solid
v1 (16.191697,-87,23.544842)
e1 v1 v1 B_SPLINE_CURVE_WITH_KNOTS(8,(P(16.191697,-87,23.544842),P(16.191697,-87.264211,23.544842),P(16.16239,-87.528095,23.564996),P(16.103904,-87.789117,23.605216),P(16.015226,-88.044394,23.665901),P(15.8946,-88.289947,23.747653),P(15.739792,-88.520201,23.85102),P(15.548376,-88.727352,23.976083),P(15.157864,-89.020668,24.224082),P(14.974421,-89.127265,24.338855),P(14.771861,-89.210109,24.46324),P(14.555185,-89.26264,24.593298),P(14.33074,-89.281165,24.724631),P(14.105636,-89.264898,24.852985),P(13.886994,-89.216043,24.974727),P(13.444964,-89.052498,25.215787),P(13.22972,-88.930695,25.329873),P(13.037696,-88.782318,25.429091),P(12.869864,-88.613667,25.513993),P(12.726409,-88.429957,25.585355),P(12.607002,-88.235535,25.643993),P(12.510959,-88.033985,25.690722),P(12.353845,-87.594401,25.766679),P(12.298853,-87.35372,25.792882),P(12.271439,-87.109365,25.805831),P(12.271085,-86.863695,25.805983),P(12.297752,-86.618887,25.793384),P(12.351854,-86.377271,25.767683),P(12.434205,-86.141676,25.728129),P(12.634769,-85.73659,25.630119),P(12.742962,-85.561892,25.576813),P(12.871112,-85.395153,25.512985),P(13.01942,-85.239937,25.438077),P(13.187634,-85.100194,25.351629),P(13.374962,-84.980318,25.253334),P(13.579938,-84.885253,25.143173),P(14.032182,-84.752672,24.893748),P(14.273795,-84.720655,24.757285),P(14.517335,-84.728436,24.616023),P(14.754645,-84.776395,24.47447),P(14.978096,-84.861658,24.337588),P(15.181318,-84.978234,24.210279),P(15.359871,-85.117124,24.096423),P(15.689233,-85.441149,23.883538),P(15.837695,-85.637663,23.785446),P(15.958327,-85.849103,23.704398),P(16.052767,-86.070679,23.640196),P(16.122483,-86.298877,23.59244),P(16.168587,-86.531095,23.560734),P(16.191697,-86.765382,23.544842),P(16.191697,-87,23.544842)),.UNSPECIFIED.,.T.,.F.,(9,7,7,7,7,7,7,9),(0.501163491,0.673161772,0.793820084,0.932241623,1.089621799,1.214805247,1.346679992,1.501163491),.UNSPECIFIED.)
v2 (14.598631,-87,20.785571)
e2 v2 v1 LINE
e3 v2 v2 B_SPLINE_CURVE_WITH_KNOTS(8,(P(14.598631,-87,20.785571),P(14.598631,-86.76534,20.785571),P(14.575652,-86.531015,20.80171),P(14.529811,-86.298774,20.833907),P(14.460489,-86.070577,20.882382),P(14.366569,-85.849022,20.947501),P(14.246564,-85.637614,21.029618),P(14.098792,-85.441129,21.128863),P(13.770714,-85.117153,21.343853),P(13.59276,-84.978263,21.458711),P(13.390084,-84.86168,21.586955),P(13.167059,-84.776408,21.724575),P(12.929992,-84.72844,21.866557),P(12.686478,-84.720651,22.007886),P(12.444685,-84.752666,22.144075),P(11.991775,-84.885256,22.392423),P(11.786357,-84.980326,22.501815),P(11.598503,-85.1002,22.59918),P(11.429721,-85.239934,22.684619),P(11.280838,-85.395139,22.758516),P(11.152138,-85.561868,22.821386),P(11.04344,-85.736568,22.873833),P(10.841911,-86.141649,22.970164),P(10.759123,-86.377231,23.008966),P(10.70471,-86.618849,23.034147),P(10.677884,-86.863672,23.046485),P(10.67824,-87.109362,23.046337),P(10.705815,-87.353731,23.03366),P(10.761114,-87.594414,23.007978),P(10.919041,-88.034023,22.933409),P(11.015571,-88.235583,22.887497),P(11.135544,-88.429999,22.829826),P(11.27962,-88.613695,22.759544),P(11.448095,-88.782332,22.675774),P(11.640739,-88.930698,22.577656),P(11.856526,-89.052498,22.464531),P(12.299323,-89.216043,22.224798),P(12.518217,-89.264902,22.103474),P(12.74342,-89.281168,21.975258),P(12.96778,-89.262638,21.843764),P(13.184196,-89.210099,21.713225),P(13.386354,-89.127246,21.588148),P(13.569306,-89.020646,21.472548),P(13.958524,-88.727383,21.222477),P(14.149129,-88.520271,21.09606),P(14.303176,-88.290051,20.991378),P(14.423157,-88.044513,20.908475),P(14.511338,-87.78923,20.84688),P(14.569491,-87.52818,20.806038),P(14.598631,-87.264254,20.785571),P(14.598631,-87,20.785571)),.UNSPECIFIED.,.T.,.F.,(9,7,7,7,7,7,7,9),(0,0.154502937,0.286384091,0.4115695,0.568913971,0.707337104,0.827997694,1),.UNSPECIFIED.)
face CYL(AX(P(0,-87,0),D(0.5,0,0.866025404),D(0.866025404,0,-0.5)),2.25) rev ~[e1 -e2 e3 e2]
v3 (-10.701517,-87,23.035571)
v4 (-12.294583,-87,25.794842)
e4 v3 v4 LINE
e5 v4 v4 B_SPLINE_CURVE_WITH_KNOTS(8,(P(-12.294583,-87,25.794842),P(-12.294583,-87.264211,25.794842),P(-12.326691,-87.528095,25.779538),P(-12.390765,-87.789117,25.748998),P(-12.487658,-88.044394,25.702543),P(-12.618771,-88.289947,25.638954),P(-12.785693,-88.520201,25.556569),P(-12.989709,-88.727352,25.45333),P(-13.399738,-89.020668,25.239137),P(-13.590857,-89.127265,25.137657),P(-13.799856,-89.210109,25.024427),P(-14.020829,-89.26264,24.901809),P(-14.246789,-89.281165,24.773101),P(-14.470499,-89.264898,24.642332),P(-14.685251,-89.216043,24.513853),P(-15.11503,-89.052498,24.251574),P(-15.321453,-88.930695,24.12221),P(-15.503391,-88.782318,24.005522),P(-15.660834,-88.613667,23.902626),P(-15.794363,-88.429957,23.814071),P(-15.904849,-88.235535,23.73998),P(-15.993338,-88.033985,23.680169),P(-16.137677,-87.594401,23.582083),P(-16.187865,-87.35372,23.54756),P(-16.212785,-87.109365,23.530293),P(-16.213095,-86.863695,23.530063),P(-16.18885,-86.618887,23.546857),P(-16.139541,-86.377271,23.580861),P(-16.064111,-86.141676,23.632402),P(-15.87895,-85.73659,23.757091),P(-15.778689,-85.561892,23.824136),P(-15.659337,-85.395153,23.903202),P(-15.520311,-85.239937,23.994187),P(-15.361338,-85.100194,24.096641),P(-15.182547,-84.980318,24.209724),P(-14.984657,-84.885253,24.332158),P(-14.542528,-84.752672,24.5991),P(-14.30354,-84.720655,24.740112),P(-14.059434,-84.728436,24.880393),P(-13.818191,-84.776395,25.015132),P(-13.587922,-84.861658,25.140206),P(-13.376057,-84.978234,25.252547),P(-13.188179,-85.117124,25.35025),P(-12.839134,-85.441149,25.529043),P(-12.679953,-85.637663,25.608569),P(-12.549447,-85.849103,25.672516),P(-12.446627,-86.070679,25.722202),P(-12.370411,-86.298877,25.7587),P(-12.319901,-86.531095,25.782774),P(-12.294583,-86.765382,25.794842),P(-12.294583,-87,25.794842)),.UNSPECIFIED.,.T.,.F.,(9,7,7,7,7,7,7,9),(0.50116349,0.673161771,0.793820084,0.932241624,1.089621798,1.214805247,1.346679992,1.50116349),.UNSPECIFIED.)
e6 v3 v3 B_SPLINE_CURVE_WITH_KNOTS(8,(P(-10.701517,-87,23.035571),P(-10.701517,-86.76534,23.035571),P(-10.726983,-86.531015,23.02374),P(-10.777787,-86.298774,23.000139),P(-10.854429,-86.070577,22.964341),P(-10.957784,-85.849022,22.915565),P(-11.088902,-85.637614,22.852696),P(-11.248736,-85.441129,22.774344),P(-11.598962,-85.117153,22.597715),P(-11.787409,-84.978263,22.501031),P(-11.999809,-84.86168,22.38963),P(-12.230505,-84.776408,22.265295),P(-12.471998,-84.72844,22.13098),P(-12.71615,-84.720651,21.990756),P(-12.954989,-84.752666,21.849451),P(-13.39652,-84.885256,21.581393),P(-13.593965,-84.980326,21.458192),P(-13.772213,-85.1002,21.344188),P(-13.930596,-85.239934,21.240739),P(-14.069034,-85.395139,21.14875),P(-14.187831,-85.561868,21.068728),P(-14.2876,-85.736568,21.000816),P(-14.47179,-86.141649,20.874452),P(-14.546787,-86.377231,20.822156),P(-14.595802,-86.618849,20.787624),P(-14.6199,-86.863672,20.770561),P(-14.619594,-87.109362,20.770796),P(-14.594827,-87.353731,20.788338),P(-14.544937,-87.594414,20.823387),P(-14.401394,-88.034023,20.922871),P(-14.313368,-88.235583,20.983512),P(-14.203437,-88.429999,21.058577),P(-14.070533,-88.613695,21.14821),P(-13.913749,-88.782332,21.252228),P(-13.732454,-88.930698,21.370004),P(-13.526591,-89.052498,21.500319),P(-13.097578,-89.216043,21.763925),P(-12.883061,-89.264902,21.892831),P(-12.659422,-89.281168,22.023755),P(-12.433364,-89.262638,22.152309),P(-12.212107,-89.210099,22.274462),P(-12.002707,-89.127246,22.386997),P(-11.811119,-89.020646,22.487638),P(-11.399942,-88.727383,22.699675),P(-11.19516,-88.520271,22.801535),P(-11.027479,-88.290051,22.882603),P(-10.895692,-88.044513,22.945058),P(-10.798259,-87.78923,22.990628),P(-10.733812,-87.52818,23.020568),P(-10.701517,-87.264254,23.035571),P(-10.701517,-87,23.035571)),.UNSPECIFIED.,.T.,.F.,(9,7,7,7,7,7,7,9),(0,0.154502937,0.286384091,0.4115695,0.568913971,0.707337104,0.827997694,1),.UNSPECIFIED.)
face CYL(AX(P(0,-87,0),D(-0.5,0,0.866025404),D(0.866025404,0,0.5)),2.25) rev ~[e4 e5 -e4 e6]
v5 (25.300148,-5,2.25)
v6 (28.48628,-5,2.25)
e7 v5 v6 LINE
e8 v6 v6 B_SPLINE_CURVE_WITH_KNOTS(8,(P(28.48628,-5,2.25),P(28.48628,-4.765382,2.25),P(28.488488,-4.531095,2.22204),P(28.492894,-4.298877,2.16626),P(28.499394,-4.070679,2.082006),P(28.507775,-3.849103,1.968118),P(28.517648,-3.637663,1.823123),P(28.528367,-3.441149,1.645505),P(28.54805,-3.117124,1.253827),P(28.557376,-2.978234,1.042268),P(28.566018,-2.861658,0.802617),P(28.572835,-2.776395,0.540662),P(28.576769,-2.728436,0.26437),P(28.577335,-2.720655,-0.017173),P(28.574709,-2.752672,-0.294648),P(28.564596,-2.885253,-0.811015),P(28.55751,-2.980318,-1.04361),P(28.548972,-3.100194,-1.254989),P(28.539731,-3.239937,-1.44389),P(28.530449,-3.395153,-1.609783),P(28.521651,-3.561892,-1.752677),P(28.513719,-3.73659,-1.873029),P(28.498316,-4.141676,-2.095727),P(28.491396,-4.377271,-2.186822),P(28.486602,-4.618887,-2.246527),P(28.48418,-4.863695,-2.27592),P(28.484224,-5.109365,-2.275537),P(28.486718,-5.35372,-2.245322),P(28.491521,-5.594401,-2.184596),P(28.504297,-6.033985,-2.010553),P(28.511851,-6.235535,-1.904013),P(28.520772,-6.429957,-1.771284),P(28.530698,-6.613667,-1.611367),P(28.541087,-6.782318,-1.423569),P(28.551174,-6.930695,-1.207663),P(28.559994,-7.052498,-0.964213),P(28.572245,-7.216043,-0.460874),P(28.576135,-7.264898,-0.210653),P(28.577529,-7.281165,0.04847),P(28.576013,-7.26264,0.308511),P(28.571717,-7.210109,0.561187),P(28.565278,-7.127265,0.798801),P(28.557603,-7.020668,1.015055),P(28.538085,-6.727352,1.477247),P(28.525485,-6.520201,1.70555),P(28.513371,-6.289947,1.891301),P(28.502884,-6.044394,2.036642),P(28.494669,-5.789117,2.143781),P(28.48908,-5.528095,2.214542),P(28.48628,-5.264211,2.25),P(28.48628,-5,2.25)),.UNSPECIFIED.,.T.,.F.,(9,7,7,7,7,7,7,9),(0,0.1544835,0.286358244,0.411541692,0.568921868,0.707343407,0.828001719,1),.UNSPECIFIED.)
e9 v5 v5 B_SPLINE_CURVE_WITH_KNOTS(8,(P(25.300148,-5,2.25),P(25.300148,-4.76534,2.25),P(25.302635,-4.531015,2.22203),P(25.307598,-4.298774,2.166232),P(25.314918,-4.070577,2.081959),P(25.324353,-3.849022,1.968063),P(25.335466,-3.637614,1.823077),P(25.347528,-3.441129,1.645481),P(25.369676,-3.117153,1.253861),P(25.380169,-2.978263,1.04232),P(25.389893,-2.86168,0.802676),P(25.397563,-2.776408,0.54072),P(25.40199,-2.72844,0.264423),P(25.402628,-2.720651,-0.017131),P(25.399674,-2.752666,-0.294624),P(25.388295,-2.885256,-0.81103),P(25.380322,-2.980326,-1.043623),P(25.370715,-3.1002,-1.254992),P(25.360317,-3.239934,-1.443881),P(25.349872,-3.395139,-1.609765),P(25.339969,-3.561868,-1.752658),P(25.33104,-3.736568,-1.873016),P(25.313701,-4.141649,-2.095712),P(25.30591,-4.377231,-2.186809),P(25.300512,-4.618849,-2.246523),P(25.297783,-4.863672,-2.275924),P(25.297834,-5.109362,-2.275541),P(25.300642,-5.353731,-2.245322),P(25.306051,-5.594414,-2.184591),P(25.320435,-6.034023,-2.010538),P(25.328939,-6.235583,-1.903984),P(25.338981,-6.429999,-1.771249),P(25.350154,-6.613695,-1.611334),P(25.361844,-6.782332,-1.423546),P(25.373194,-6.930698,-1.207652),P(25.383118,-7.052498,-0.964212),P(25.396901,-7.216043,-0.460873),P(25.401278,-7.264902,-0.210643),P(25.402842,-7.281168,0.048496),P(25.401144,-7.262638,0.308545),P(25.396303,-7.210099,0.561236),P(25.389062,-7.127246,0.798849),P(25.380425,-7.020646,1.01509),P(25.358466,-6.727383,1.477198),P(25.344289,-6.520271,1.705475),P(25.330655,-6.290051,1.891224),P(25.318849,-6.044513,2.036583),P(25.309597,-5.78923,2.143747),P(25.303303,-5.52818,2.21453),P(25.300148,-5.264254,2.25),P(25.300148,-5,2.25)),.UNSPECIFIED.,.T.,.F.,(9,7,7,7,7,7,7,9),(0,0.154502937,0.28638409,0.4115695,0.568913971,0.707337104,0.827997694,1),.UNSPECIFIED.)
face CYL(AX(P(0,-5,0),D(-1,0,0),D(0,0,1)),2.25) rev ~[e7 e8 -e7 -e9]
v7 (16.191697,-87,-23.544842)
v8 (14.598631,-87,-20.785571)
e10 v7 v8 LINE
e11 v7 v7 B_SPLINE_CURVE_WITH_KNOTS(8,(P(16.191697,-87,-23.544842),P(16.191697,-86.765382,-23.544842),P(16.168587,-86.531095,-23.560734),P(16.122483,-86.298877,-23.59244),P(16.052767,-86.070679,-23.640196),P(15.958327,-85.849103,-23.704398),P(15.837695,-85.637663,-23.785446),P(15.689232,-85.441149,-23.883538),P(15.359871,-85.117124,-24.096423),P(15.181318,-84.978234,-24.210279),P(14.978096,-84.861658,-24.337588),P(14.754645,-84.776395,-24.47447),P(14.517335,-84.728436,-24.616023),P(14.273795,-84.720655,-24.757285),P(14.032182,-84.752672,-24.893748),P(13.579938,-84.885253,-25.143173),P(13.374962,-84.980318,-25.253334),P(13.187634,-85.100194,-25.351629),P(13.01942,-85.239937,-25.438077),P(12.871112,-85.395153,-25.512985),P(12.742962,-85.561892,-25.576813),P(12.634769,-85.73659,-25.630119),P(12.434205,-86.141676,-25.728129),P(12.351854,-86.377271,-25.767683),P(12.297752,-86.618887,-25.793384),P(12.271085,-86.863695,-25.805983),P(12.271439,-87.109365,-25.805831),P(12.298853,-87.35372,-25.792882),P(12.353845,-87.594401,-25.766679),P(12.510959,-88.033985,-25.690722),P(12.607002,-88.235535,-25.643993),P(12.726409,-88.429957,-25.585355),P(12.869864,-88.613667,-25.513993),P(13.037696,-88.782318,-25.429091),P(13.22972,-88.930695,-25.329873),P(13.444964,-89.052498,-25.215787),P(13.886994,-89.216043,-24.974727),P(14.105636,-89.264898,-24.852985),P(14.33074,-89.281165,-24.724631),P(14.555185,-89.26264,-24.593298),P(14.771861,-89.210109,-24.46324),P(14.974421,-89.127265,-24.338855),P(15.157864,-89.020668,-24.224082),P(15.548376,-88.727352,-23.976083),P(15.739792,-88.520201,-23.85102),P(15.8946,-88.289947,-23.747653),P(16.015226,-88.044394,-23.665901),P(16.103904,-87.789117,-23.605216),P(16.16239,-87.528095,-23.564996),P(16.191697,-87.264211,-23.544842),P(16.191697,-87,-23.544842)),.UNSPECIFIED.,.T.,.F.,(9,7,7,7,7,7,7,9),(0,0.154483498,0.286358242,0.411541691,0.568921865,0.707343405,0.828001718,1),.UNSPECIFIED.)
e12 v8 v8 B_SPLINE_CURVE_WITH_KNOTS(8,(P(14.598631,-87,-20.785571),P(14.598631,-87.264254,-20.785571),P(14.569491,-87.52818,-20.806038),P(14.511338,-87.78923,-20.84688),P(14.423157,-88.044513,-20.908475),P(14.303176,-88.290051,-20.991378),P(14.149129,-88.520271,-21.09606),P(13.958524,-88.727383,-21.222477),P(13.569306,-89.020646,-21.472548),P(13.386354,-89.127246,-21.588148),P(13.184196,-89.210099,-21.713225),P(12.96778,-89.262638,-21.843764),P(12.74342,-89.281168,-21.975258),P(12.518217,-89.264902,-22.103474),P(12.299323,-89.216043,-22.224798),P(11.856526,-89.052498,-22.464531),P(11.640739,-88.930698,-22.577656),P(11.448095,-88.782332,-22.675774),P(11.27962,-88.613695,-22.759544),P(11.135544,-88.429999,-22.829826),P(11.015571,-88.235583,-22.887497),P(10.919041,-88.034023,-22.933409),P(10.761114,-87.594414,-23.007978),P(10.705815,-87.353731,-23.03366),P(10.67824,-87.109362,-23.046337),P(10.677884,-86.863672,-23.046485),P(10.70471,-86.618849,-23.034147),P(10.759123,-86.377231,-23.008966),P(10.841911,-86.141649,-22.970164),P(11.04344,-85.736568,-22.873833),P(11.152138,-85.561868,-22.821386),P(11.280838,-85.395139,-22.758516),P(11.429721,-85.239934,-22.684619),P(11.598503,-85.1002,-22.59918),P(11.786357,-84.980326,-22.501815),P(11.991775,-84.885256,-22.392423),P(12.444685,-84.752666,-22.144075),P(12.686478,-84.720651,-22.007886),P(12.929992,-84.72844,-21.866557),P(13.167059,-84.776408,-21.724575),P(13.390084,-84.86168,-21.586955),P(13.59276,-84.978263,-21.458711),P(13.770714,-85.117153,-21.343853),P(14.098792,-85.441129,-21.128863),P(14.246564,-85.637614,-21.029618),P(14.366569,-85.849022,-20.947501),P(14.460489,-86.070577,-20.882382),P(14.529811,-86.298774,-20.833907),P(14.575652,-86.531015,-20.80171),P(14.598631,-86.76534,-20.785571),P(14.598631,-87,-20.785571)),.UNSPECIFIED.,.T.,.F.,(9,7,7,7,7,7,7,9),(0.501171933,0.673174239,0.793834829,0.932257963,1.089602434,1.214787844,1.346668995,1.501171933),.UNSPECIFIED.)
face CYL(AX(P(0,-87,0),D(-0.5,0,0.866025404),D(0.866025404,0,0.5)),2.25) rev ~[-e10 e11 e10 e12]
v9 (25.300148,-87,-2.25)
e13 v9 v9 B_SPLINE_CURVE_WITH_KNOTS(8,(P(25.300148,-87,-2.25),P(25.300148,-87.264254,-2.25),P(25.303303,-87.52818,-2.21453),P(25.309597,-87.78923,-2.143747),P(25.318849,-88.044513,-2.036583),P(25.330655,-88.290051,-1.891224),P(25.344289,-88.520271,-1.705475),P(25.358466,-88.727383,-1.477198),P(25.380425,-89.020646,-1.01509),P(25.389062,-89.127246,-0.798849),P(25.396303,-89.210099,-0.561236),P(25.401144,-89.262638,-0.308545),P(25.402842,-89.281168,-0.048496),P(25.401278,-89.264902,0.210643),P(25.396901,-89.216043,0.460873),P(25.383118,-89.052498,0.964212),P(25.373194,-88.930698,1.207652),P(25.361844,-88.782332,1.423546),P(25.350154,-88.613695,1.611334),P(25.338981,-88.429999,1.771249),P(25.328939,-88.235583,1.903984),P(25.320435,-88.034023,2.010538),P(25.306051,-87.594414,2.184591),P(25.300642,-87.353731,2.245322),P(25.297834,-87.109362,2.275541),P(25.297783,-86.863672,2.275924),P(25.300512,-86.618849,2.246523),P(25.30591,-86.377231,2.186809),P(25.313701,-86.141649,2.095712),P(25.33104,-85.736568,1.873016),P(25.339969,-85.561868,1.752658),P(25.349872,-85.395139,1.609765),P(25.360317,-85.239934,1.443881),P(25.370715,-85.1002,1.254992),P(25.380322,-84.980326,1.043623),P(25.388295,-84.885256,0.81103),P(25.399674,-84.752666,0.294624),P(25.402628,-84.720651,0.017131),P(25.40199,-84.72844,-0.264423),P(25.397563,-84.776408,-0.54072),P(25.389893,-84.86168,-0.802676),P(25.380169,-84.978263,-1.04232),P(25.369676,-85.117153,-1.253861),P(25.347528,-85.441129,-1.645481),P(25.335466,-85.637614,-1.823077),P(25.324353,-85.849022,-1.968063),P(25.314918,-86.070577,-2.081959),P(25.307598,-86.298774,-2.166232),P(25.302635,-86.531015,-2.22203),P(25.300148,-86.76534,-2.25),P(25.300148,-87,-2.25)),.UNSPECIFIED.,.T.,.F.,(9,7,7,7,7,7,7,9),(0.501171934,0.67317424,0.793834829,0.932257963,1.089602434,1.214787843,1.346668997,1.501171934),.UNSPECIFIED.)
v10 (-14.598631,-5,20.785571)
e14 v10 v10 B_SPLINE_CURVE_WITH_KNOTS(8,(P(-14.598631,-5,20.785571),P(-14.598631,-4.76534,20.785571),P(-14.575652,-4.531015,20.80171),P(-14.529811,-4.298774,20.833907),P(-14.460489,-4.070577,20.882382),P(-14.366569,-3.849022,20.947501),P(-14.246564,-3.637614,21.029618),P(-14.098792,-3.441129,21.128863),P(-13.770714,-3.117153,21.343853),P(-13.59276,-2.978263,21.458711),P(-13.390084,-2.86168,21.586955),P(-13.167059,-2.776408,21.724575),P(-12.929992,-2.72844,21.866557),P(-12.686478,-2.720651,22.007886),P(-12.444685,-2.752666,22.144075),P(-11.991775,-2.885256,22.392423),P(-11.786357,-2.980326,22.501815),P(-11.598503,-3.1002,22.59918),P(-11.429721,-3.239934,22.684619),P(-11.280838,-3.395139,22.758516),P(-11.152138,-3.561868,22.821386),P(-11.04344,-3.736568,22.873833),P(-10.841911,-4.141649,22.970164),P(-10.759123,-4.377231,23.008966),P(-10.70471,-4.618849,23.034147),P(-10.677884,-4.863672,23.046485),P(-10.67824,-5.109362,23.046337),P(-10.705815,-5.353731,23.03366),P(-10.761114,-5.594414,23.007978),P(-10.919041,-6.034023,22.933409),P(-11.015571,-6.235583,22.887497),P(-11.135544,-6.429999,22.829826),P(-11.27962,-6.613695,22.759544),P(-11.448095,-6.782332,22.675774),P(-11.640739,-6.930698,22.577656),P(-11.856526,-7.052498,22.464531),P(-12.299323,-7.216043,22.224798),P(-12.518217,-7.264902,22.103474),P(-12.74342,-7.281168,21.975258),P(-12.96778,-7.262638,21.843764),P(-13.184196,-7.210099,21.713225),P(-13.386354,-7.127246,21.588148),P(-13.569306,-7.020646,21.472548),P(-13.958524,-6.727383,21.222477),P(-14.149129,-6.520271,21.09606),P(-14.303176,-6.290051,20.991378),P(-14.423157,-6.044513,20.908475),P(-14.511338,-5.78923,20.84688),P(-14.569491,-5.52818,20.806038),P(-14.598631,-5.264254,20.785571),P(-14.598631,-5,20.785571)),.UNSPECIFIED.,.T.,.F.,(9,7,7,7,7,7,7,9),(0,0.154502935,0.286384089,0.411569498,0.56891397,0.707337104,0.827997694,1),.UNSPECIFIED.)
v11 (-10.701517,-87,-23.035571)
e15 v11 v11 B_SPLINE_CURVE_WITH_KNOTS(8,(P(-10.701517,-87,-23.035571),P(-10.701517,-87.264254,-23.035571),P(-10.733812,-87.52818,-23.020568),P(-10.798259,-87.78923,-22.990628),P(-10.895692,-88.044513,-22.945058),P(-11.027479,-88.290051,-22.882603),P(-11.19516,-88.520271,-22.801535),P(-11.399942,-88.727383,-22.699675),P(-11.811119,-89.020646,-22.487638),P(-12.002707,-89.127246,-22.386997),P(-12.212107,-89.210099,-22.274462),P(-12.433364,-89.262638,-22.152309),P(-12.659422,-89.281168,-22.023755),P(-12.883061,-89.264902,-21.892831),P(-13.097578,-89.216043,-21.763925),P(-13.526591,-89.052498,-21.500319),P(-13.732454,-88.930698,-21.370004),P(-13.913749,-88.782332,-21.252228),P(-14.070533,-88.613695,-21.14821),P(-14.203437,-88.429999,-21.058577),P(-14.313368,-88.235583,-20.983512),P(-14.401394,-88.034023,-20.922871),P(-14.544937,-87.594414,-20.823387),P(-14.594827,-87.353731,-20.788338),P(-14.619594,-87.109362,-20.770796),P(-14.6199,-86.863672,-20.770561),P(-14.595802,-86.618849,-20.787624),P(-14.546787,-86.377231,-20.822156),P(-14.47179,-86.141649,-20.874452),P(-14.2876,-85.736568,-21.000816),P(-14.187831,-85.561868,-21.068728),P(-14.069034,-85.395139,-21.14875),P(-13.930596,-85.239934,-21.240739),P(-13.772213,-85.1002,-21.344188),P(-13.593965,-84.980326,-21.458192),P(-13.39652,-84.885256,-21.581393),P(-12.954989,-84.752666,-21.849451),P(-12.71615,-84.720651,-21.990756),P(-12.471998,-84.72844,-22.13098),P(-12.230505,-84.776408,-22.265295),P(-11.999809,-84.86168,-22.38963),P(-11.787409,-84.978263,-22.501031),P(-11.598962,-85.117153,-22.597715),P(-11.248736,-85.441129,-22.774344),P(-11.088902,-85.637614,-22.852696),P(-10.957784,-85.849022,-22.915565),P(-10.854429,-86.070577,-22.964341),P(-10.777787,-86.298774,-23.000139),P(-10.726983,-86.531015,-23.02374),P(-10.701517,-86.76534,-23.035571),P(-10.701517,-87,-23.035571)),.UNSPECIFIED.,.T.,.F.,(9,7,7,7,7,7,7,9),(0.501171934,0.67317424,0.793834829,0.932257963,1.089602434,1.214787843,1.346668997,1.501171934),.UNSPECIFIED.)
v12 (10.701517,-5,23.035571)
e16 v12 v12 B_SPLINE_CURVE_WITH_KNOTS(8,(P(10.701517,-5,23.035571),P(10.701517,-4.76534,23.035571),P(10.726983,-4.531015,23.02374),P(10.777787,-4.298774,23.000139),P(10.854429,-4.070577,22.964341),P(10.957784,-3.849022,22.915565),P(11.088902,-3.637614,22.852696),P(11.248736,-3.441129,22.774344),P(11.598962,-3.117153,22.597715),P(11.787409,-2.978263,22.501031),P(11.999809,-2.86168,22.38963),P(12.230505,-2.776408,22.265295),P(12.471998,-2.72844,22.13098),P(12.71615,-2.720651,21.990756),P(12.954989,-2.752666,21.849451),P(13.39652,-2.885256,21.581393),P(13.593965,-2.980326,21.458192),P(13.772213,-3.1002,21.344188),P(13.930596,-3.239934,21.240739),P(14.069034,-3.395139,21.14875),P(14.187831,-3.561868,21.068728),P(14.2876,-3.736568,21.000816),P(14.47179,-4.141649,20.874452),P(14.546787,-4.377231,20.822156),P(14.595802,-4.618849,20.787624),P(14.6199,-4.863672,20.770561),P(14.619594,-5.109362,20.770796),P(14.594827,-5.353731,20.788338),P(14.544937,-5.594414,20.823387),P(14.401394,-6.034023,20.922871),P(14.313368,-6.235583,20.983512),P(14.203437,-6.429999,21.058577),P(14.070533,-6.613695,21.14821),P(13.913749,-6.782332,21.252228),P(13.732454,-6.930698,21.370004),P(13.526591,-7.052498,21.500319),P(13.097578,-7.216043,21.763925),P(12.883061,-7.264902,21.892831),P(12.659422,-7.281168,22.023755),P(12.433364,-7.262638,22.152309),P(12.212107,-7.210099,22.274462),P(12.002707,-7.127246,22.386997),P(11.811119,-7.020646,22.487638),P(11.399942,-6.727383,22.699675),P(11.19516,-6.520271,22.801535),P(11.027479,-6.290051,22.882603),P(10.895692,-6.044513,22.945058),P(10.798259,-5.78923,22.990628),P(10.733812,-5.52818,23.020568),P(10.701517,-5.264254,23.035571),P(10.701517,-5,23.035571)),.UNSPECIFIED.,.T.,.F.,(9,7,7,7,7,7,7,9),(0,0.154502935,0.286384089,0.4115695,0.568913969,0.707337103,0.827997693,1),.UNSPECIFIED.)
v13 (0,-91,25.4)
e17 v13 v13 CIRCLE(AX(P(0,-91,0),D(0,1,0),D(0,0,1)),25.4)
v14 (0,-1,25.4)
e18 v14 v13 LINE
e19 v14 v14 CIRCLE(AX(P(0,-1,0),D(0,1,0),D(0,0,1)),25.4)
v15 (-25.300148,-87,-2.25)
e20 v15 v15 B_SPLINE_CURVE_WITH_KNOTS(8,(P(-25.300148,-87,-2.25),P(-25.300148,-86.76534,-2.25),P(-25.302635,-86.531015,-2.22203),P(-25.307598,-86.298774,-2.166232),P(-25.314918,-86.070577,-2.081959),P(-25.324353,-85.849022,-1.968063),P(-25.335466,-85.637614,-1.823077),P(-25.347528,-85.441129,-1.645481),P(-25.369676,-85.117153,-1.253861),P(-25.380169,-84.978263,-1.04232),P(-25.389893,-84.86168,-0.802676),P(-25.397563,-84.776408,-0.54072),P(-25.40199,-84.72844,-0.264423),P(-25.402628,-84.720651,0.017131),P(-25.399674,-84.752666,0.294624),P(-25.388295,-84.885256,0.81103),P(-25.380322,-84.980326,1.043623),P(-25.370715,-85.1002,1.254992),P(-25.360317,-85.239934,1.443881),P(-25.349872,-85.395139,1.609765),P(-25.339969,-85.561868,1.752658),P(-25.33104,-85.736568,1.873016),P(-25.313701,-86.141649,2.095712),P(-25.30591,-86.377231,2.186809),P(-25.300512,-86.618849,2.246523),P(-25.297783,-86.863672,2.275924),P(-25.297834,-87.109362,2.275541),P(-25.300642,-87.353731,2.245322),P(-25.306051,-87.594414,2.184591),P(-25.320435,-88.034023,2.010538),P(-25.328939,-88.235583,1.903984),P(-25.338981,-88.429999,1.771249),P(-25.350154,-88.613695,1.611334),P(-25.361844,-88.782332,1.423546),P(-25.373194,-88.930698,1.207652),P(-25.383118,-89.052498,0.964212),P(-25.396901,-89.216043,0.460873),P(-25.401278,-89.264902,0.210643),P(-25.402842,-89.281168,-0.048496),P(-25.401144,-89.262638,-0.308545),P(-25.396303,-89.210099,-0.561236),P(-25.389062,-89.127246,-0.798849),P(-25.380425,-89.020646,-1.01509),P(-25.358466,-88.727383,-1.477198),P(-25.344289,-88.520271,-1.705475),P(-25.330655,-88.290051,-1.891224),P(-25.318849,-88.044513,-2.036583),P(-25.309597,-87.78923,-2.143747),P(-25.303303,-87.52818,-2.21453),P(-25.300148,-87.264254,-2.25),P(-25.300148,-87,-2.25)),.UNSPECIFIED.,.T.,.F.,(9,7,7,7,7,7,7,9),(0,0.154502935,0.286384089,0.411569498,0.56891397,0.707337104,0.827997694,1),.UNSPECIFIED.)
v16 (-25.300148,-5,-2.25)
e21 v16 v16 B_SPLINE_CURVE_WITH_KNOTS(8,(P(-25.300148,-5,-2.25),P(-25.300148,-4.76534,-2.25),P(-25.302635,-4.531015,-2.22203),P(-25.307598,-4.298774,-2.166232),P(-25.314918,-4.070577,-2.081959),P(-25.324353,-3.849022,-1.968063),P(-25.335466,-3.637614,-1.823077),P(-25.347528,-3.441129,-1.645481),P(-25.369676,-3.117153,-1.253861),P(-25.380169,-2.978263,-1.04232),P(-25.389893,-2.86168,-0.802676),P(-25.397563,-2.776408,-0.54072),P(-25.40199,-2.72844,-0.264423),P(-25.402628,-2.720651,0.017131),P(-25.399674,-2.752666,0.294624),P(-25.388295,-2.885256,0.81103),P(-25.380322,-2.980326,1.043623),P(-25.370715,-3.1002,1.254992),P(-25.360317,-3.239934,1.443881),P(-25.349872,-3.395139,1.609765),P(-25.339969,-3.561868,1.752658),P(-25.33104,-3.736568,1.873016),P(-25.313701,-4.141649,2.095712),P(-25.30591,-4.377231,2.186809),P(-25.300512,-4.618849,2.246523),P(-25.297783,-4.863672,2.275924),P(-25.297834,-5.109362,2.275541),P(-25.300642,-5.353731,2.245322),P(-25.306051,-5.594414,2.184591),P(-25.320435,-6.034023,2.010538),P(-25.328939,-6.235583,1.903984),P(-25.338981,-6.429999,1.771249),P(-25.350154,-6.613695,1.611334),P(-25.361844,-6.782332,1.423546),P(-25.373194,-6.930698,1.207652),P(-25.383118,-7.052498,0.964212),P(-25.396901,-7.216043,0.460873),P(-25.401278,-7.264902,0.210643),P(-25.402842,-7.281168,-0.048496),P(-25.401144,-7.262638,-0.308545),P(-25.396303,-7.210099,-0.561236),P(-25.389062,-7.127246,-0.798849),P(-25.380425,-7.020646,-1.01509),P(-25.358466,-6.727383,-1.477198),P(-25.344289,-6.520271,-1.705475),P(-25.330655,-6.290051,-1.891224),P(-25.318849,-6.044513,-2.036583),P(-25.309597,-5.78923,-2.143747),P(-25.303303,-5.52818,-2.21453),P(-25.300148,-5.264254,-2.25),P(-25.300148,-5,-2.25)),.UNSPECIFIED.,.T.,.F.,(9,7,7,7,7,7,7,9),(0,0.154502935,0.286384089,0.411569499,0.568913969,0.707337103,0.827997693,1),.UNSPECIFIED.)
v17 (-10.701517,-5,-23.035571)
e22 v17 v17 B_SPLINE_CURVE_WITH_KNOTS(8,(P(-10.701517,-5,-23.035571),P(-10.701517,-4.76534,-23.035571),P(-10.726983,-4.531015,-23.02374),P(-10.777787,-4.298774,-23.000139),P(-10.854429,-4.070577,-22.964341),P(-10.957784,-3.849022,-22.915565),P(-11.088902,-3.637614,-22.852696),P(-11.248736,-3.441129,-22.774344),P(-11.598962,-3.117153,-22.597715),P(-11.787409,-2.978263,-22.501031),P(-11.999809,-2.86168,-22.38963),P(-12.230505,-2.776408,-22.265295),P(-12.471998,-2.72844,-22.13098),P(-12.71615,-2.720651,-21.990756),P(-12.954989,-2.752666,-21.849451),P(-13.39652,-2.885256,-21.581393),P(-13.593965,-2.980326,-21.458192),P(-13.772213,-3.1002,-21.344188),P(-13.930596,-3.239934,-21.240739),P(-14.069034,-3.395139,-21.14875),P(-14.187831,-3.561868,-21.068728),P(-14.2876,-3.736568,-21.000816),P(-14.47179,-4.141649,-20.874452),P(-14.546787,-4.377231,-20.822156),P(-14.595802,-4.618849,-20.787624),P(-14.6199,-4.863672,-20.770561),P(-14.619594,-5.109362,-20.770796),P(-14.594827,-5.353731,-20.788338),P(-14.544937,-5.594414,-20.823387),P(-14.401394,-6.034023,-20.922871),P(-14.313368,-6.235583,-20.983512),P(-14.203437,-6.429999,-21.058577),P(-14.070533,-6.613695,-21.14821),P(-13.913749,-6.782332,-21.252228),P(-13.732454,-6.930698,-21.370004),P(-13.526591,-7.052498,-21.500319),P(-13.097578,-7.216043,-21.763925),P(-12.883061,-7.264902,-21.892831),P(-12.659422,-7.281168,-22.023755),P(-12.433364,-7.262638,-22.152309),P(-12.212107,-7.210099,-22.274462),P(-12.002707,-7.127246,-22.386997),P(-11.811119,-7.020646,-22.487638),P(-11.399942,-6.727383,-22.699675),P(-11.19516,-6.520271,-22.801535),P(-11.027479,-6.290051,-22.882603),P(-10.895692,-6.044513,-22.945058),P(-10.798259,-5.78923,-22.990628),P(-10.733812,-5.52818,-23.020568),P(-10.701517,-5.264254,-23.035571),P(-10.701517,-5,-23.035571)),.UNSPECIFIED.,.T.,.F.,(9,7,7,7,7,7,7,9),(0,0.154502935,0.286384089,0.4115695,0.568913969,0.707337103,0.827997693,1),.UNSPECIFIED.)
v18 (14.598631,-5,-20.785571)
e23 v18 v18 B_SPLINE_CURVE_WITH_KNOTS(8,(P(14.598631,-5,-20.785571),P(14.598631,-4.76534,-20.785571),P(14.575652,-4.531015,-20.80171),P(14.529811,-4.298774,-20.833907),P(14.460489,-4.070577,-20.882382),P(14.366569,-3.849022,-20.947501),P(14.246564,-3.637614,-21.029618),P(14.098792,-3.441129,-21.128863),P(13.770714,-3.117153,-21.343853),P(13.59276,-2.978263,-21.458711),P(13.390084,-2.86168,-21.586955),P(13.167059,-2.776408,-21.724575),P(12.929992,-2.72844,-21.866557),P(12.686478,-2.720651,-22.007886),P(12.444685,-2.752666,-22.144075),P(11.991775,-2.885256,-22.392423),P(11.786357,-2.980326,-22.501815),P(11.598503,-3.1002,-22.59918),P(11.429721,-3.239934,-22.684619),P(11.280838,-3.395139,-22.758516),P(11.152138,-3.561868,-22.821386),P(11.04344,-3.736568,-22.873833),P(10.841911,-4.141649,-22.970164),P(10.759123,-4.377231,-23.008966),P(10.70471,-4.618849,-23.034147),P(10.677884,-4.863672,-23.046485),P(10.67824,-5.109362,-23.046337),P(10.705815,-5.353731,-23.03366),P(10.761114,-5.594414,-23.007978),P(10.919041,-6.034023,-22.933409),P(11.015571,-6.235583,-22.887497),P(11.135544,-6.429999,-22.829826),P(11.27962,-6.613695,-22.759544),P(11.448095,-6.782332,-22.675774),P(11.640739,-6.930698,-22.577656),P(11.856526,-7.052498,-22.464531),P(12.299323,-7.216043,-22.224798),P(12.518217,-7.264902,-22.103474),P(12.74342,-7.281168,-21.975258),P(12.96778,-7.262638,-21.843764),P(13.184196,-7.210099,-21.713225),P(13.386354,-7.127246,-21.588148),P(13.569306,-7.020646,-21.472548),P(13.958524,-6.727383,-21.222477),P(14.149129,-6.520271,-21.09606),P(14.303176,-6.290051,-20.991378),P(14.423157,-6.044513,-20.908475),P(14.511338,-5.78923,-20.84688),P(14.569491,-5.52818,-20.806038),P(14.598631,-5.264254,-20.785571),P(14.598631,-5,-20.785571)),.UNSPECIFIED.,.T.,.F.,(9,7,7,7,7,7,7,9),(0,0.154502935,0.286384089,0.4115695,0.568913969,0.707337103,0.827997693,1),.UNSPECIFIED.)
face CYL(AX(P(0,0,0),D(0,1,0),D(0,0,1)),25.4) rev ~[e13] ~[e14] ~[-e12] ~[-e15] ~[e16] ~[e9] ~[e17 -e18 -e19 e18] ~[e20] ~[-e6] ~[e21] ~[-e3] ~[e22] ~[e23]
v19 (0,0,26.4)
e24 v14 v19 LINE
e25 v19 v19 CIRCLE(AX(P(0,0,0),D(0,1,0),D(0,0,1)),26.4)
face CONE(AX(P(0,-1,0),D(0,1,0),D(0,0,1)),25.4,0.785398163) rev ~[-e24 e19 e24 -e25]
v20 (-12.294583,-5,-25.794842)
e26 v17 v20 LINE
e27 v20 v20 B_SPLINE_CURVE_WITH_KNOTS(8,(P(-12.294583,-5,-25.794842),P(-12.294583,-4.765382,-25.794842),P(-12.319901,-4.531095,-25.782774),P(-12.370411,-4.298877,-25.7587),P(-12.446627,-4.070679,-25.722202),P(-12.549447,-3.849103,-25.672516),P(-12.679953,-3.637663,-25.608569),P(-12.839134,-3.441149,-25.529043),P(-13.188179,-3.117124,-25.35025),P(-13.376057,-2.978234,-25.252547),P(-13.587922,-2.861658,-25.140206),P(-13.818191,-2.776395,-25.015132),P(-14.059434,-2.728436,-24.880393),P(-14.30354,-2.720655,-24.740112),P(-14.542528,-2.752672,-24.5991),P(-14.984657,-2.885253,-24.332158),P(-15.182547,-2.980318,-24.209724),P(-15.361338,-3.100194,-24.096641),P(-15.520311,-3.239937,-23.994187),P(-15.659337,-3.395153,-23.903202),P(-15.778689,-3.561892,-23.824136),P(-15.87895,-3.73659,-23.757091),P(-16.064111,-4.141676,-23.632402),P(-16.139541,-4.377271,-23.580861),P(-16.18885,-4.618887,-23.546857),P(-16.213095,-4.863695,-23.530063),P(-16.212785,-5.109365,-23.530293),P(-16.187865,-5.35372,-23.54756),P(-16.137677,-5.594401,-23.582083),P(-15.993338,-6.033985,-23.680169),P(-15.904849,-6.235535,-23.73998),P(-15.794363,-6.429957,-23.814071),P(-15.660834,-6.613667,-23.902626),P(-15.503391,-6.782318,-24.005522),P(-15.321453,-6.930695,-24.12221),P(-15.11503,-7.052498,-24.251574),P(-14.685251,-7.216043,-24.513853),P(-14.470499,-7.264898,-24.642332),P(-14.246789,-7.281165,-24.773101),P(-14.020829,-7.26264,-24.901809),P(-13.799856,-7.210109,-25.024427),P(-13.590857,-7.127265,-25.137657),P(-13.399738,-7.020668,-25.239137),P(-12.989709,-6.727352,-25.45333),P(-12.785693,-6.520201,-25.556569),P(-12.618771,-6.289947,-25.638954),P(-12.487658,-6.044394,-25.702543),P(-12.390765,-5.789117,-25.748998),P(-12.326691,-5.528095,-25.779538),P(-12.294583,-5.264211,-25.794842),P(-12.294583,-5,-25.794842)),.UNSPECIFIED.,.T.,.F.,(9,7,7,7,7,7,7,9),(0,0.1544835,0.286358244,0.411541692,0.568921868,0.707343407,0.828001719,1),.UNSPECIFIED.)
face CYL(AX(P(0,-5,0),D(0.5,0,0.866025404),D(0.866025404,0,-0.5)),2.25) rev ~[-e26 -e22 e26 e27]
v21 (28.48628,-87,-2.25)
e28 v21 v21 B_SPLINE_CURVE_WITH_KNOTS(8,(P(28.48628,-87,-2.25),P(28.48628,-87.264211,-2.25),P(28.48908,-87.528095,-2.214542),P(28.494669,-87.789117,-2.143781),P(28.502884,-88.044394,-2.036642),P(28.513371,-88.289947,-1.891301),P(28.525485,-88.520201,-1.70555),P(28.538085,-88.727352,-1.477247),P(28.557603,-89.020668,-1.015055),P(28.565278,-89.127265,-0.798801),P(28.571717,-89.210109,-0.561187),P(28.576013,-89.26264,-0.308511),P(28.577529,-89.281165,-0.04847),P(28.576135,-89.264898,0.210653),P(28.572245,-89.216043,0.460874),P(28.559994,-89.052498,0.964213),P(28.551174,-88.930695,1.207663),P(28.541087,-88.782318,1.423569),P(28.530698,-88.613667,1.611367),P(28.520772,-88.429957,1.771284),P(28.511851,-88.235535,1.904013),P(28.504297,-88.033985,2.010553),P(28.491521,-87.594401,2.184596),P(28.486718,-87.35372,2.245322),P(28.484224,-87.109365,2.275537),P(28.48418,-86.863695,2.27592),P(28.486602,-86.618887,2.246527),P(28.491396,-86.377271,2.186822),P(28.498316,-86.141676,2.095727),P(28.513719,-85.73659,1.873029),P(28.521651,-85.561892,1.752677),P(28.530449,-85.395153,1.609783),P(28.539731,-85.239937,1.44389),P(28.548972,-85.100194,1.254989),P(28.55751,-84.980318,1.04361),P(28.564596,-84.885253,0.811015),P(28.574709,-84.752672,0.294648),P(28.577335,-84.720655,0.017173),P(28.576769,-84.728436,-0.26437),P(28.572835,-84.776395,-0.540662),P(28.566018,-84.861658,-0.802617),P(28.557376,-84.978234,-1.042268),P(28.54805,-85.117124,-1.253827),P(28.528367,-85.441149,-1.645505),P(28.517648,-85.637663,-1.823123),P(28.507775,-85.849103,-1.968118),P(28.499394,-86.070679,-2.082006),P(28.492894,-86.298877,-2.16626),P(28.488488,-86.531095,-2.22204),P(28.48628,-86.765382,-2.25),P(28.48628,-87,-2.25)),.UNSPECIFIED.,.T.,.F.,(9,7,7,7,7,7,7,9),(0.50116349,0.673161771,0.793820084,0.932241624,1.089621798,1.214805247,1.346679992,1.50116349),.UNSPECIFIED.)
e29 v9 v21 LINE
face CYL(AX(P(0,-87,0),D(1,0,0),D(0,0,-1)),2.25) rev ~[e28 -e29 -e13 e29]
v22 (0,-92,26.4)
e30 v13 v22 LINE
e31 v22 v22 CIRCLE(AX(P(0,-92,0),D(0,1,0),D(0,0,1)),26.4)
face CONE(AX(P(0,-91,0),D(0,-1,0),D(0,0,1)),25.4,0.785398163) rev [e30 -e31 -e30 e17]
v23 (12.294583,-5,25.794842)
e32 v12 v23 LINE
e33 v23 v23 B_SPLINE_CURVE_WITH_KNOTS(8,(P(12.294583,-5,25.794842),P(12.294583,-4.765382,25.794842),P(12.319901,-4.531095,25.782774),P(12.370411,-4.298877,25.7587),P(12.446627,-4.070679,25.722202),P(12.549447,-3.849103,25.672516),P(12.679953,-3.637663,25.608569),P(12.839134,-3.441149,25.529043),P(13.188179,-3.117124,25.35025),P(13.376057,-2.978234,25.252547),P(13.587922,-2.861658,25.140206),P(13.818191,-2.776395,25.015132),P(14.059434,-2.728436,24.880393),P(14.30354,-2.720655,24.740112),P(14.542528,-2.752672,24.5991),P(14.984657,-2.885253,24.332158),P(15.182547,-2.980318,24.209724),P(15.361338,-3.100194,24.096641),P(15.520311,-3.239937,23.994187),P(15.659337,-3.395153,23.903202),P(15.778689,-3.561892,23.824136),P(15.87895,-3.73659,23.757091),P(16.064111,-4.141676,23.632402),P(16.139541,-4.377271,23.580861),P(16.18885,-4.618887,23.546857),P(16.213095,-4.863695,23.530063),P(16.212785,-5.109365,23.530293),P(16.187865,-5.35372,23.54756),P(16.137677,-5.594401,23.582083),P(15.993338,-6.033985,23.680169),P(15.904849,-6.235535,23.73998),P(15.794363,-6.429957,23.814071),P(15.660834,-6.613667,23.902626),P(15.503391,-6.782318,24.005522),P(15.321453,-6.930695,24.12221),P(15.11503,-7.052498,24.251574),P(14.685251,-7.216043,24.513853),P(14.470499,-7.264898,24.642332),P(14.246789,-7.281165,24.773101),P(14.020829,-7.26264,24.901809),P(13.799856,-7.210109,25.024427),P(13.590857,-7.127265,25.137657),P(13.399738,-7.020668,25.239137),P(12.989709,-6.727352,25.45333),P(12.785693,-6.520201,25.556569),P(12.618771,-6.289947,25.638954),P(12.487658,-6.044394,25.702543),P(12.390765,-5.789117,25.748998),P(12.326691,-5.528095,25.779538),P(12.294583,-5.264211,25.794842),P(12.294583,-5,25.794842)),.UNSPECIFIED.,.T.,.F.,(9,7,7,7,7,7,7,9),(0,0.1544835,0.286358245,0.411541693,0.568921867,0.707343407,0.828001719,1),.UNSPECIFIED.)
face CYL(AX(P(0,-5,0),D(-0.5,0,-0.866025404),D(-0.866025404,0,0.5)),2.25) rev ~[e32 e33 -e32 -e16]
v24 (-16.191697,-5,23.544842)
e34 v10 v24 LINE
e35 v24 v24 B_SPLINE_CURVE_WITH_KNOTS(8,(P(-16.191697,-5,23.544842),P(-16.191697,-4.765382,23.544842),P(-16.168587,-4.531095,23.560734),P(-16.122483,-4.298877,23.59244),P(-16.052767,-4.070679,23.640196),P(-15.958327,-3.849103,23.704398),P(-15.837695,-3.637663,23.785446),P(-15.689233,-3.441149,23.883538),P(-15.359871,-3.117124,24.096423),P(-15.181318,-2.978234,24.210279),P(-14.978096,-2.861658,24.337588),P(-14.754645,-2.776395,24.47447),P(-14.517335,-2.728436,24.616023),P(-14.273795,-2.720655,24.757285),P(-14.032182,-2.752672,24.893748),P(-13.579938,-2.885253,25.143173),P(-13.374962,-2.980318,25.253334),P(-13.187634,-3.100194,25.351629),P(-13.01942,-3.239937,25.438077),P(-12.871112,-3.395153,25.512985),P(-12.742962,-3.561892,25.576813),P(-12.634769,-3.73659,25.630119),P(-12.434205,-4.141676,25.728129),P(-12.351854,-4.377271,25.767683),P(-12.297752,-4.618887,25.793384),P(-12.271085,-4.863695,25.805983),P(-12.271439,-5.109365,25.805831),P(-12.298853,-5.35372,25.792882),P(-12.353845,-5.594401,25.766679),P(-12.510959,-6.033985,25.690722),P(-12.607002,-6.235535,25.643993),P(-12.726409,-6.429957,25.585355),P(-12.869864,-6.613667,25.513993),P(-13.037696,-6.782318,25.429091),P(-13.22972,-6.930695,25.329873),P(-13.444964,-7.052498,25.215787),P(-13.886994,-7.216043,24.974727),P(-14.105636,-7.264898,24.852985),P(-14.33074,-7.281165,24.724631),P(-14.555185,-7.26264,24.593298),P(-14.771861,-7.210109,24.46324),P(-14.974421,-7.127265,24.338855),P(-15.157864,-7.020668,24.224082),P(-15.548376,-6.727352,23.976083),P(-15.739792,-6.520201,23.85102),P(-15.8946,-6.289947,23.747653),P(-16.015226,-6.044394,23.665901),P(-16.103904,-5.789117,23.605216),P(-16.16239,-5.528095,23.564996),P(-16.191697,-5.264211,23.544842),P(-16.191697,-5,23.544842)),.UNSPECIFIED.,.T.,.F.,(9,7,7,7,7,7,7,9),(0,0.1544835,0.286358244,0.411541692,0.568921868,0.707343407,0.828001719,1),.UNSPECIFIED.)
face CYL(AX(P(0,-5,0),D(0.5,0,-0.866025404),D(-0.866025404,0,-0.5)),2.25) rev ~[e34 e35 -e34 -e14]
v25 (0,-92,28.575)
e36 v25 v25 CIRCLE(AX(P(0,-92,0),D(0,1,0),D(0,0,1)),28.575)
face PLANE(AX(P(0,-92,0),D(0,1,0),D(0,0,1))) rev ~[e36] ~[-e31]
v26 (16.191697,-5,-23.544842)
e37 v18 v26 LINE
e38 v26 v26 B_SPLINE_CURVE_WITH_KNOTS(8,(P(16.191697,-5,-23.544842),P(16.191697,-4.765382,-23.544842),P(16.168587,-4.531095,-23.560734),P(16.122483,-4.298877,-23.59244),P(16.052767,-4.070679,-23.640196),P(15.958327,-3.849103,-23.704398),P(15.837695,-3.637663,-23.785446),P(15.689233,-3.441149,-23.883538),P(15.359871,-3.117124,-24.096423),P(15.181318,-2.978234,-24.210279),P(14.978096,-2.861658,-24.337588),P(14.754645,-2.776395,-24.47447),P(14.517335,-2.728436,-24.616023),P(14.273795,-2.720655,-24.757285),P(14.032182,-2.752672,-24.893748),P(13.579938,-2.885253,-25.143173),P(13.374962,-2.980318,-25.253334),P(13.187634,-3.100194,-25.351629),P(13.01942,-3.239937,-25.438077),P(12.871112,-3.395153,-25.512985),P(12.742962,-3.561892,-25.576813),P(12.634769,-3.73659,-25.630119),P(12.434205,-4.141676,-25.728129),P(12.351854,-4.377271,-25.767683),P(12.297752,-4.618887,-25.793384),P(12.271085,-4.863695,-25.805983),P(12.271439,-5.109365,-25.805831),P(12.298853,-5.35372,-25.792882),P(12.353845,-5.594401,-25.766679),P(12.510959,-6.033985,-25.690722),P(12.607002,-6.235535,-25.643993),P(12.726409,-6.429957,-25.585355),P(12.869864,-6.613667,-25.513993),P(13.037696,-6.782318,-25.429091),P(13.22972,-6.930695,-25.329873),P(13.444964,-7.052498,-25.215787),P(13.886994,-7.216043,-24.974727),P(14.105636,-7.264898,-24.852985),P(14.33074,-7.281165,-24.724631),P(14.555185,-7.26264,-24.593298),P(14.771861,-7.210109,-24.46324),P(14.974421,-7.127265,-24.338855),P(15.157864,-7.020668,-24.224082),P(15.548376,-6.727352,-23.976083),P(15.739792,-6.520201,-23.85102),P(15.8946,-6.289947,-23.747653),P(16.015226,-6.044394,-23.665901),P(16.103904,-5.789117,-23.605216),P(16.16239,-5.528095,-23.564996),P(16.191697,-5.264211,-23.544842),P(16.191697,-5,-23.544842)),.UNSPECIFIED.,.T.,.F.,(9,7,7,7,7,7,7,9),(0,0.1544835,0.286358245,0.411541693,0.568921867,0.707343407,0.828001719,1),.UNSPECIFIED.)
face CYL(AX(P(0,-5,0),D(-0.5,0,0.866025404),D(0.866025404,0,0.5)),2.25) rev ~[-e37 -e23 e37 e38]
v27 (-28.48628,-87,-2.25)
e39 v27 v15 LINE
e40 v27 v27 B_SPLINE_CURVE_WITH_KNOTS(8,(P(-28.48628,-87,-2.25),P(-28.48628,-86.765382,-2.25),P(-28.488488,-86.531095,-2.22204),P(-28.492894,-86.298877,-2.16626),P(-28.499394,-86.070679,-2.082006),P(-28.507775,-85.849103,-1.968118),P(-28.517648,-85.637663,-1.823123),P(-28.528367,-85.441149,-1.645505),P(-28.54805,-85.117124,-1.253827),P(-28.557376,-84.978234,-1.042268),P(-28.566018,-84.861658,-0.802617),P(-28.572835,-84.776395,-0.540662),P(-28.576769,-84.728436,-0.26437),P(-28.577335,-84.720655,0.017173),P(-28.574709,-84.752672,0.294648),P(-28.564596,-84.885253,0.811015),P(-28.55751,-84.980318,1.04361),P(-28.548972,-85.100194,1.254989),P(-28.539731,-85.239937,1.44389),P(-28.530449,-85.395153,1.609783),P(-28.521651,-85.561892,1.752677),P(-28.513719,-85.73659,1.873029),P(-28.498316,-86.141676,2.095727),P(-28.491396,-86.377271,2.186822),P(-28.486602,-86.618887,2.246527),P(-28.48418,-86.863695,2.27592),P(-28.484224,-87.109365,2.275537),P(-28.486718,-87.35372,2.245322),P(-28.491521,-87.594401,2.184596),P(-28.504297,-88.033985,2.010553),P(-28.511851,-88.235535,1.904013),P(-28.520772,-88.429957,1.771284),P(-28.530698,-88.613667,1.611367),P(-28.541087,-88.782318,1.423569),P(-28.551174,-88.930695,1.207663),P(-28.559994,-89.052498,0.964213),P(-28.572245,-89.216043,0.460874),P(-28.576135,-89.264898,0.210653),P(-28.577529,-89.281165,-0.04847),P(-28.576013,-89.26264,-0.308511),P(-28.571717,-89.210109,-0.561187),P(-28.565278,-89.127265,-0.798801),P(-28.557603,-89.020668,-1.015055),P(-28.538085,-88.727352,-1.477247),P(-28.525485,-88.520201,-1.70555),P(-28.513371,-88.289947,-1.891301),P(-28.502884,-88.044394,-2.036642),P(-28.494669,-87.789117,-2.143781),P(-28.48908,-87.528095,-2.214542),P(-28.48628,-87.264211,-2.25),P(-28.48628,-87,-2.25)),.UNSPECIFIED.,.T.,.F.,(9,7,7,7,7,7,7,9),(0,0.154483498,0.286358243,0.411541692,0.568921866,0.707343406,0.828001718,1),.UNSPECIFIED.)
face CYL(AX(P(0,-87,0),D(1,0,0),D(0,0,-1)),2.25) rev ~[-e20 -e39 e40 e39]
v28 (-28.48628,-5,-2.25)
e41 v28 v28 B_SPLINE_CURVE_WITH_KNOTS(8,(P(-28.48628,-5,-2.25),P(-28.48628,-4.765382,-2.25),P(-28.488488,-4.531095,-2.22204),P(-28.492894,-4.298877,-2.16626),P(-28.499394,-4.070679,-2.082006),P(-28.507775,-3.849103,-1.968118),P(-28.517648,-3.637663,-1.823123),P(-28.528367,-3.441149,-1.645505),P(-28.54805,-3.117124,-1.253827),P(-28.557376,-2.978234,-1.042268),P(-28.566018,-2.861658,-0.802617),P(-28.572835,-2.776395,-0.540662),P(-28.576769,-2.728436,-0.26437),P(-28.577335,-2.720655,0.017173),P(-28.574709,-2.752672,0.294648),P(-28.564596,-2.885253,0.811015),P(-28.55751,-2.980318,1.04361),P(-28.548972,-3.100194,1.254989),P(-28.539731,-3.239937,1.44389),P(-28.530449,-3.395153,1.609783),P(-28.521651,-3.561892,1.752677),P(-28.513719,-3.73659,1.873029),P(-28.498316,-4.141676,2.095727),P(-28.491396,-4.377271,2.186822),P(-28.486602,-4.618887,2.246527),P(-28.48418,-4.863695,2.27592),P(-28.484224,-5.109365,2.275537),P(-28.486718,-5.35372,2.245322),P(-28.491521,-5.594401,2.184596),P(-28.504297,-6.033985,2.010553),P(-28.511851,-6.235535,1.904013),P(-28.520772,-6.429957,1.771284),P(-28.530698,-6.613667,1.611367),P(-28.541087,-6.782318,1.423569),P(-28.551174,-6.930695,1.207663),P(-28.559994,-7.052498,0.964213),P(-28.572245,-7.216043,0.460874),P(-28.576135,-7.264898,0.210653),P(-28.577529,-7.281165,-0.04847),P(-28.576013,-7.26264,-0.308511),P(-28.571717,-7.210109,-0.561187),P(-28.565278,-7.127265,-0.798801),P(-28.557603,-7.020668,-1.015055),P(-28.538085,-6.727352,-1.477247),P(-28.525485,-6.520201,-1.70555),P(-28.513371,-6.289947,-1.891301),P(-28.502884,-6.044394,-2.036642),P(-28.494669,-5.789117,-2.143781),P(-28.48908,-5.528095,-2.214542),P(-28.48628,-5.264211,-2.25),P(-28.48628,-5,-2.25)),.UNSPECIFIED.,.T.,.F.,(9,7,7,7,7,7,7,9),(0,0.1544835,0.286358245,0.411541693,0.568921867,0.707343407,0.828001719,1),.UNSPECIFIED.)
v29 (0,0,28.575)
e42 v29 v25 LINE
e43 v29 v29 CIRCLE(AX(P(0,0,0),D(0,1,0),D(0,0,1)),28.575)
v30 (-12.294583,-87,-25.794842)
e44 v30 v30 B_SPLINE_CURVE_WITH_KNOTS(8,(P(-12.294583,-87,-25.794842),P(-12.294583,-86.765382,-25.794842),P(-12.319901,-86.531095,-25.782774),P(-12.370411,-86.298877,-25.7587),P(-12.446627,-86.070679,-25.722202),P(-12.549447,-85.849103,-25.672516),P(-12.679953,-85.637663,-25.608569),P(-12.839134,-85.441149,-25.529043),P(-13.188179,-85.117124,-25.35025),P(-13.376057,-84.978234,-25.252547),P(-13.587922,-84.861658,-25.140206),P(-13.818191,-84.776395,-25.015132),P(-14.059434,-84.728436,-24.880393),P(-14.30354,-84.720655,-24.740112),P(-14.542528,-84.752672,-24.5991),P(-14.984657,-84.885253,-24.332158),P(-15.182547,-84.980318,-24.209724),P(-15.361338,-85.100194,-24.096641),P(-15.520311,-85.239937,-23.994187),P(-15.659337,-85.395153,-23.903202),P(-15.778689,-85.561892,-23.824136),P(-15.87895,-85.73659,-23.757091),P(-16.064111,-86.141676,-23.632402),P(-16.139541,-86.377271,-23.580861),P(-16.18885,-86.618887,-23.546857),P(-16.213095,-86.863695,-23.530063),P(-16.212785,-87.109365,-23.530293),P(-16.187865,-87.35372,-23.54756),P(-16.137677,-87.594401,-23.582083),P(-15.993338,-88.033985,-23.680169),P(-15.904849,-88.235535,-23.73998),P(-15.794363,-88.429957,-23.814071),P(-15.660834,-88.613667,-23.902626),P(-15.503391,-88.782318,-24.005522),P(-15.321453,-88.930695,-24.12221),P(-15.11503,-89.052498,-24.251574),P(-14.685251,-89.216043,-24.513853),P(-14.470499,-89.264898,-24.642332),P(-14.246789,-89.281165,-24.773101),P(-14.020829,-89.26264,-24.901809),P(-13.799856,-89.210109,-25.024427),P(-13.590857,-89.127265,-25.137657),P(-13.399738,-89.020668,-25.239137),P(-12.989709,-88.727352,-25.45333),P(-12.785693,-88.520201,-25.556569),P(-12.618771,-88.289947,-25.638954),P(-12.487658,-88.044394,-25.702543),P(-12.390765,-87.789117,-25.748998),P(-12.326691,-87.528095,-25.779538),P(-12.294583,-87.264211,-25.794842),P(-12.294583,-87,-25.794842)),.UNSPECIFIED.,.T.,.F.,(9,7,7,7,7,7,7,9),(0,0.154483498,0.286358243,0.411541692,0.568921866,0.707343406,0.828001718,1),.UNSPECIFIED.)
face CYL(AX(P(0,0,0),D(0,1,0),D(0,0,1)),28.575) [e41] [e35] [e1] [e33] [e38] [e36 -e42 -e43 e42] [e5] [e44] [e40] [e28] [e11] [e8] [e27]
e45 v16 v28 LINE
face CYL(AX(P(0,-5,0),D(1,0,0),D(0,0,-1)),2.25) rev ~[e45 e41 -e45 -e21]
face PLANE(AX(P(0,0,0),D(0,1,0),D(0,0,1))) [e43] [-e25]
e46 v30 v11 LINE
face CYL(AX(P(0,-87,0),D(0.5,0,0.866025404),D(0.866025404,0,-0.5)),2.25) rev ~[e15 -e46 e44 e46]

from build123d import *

# Parameters (mm, degrees)
SKETCH2_R           = 28.575
BOSS_EXTRUDE1_DEPTH = 92
SKETCH3_R           = 25.4
CUT_EXTRUDE1_DEPTH  = 110
SKETCH7_R           = 2.25
CUT_EXTRUDE2_DEPTH  = 110
CIRPATTERN1_COUNT   = 6
SKETCH8_R           = 2.25
CUT_EXTRUDE5_DEPTH  = 101.484134476
CIRPATTERN2_COUNT   = 6
CHAMFER1_SIZE       = 1


with BuildPart() as part:
    # Sketch2 → Boss-Extrude1 (new body)
    with BuildSketch(Plane(origin=(0, 0, 0), x_dir=(1, 0, 0), z_dir=(0, 1, 0))):
        with Locations(Location((0, 0, 0), (0, 0, 270))):
            Circle(SKETCH2_R)
    extrude(amount=-BOSS_EXTRUDE1_DEPTH)

    # Sketch3 → Cut-Extrude1 (cut)
    with BuildSketch(Plane(origin=(0, 0, 0), x_dir=(1, 0, 0), z_dir=(0, 1, 0))):
        with Locations(Location((0, 0, 0), (0, 0, 270))):
            Circle(SKETCH3_R)
    extrude(amount=-CUT_EXTRUDE1_DEPTH, mode=Mode.SUBTRACT)

    # Sketch7 → Cut-Extrude2 (cut)
    with BuildSketch(Plane(origin=(0, 0, 0), x_dir=(0, 0, -1), z_dir=(1, 0, 0))):
        with Locations((0, -5)):
            Circle(SKETCH7_R)
    cut_extrude2 = extrude(amount=-CUT_EXTRUDE2_DEPTH, mode=Mode.SUBTRACT)

    # CirPattern1: Cut-Extrude2 ×6 about axis
    cirpattern1_axis = Axis((0, 0, 0), (0, -1, 0))
    for i in range(1, CIRPATTERN1_COUNT):
        add(cut_extrude2.rotate(cirpattern1_axis, i * 360 / CIRPATTERN1_COUNT), mode=Mode.SUBTRACT)

    # Sketch8 → Cut-Extrude5 (cut, symmetric)
    with BuildSketch(Plane(origin=(0, 0, 0), x_dir=(0, 0, -1), z_dir=(1, 0, 0))):
        with Locations((0, -87)):
            Circle(SKETCH8_R)
    cut_extrude5 = extrude(amount=CUT_EXTRUDE5_DEPTH, both=True, mode=Mode.SUBTRACT)

    # CirPattern2: Cut-Extrude5 ×6 about axis
    cirpattern2_axis = Axis((0, 0, 0), (0, -1, 0))
    for i in range(1, CIRPATTERN2_COUNT):
        add(cut_extrude5.rotate(cirpattern2_axis, i * 360 / CIRPATTERN2_COUNT), mode=Mode.SUBTRACT)

    # Chamfer1
    chamfer1_edges = [part.edges().sort_by_distance(p)[0] for p in [
        (0, -92, -25.4),
        (0, 0, -25.4),
    ]]
    chamfer(chamfer1_edges, length=CHAMFER1_SIZE)


solid = part.part
